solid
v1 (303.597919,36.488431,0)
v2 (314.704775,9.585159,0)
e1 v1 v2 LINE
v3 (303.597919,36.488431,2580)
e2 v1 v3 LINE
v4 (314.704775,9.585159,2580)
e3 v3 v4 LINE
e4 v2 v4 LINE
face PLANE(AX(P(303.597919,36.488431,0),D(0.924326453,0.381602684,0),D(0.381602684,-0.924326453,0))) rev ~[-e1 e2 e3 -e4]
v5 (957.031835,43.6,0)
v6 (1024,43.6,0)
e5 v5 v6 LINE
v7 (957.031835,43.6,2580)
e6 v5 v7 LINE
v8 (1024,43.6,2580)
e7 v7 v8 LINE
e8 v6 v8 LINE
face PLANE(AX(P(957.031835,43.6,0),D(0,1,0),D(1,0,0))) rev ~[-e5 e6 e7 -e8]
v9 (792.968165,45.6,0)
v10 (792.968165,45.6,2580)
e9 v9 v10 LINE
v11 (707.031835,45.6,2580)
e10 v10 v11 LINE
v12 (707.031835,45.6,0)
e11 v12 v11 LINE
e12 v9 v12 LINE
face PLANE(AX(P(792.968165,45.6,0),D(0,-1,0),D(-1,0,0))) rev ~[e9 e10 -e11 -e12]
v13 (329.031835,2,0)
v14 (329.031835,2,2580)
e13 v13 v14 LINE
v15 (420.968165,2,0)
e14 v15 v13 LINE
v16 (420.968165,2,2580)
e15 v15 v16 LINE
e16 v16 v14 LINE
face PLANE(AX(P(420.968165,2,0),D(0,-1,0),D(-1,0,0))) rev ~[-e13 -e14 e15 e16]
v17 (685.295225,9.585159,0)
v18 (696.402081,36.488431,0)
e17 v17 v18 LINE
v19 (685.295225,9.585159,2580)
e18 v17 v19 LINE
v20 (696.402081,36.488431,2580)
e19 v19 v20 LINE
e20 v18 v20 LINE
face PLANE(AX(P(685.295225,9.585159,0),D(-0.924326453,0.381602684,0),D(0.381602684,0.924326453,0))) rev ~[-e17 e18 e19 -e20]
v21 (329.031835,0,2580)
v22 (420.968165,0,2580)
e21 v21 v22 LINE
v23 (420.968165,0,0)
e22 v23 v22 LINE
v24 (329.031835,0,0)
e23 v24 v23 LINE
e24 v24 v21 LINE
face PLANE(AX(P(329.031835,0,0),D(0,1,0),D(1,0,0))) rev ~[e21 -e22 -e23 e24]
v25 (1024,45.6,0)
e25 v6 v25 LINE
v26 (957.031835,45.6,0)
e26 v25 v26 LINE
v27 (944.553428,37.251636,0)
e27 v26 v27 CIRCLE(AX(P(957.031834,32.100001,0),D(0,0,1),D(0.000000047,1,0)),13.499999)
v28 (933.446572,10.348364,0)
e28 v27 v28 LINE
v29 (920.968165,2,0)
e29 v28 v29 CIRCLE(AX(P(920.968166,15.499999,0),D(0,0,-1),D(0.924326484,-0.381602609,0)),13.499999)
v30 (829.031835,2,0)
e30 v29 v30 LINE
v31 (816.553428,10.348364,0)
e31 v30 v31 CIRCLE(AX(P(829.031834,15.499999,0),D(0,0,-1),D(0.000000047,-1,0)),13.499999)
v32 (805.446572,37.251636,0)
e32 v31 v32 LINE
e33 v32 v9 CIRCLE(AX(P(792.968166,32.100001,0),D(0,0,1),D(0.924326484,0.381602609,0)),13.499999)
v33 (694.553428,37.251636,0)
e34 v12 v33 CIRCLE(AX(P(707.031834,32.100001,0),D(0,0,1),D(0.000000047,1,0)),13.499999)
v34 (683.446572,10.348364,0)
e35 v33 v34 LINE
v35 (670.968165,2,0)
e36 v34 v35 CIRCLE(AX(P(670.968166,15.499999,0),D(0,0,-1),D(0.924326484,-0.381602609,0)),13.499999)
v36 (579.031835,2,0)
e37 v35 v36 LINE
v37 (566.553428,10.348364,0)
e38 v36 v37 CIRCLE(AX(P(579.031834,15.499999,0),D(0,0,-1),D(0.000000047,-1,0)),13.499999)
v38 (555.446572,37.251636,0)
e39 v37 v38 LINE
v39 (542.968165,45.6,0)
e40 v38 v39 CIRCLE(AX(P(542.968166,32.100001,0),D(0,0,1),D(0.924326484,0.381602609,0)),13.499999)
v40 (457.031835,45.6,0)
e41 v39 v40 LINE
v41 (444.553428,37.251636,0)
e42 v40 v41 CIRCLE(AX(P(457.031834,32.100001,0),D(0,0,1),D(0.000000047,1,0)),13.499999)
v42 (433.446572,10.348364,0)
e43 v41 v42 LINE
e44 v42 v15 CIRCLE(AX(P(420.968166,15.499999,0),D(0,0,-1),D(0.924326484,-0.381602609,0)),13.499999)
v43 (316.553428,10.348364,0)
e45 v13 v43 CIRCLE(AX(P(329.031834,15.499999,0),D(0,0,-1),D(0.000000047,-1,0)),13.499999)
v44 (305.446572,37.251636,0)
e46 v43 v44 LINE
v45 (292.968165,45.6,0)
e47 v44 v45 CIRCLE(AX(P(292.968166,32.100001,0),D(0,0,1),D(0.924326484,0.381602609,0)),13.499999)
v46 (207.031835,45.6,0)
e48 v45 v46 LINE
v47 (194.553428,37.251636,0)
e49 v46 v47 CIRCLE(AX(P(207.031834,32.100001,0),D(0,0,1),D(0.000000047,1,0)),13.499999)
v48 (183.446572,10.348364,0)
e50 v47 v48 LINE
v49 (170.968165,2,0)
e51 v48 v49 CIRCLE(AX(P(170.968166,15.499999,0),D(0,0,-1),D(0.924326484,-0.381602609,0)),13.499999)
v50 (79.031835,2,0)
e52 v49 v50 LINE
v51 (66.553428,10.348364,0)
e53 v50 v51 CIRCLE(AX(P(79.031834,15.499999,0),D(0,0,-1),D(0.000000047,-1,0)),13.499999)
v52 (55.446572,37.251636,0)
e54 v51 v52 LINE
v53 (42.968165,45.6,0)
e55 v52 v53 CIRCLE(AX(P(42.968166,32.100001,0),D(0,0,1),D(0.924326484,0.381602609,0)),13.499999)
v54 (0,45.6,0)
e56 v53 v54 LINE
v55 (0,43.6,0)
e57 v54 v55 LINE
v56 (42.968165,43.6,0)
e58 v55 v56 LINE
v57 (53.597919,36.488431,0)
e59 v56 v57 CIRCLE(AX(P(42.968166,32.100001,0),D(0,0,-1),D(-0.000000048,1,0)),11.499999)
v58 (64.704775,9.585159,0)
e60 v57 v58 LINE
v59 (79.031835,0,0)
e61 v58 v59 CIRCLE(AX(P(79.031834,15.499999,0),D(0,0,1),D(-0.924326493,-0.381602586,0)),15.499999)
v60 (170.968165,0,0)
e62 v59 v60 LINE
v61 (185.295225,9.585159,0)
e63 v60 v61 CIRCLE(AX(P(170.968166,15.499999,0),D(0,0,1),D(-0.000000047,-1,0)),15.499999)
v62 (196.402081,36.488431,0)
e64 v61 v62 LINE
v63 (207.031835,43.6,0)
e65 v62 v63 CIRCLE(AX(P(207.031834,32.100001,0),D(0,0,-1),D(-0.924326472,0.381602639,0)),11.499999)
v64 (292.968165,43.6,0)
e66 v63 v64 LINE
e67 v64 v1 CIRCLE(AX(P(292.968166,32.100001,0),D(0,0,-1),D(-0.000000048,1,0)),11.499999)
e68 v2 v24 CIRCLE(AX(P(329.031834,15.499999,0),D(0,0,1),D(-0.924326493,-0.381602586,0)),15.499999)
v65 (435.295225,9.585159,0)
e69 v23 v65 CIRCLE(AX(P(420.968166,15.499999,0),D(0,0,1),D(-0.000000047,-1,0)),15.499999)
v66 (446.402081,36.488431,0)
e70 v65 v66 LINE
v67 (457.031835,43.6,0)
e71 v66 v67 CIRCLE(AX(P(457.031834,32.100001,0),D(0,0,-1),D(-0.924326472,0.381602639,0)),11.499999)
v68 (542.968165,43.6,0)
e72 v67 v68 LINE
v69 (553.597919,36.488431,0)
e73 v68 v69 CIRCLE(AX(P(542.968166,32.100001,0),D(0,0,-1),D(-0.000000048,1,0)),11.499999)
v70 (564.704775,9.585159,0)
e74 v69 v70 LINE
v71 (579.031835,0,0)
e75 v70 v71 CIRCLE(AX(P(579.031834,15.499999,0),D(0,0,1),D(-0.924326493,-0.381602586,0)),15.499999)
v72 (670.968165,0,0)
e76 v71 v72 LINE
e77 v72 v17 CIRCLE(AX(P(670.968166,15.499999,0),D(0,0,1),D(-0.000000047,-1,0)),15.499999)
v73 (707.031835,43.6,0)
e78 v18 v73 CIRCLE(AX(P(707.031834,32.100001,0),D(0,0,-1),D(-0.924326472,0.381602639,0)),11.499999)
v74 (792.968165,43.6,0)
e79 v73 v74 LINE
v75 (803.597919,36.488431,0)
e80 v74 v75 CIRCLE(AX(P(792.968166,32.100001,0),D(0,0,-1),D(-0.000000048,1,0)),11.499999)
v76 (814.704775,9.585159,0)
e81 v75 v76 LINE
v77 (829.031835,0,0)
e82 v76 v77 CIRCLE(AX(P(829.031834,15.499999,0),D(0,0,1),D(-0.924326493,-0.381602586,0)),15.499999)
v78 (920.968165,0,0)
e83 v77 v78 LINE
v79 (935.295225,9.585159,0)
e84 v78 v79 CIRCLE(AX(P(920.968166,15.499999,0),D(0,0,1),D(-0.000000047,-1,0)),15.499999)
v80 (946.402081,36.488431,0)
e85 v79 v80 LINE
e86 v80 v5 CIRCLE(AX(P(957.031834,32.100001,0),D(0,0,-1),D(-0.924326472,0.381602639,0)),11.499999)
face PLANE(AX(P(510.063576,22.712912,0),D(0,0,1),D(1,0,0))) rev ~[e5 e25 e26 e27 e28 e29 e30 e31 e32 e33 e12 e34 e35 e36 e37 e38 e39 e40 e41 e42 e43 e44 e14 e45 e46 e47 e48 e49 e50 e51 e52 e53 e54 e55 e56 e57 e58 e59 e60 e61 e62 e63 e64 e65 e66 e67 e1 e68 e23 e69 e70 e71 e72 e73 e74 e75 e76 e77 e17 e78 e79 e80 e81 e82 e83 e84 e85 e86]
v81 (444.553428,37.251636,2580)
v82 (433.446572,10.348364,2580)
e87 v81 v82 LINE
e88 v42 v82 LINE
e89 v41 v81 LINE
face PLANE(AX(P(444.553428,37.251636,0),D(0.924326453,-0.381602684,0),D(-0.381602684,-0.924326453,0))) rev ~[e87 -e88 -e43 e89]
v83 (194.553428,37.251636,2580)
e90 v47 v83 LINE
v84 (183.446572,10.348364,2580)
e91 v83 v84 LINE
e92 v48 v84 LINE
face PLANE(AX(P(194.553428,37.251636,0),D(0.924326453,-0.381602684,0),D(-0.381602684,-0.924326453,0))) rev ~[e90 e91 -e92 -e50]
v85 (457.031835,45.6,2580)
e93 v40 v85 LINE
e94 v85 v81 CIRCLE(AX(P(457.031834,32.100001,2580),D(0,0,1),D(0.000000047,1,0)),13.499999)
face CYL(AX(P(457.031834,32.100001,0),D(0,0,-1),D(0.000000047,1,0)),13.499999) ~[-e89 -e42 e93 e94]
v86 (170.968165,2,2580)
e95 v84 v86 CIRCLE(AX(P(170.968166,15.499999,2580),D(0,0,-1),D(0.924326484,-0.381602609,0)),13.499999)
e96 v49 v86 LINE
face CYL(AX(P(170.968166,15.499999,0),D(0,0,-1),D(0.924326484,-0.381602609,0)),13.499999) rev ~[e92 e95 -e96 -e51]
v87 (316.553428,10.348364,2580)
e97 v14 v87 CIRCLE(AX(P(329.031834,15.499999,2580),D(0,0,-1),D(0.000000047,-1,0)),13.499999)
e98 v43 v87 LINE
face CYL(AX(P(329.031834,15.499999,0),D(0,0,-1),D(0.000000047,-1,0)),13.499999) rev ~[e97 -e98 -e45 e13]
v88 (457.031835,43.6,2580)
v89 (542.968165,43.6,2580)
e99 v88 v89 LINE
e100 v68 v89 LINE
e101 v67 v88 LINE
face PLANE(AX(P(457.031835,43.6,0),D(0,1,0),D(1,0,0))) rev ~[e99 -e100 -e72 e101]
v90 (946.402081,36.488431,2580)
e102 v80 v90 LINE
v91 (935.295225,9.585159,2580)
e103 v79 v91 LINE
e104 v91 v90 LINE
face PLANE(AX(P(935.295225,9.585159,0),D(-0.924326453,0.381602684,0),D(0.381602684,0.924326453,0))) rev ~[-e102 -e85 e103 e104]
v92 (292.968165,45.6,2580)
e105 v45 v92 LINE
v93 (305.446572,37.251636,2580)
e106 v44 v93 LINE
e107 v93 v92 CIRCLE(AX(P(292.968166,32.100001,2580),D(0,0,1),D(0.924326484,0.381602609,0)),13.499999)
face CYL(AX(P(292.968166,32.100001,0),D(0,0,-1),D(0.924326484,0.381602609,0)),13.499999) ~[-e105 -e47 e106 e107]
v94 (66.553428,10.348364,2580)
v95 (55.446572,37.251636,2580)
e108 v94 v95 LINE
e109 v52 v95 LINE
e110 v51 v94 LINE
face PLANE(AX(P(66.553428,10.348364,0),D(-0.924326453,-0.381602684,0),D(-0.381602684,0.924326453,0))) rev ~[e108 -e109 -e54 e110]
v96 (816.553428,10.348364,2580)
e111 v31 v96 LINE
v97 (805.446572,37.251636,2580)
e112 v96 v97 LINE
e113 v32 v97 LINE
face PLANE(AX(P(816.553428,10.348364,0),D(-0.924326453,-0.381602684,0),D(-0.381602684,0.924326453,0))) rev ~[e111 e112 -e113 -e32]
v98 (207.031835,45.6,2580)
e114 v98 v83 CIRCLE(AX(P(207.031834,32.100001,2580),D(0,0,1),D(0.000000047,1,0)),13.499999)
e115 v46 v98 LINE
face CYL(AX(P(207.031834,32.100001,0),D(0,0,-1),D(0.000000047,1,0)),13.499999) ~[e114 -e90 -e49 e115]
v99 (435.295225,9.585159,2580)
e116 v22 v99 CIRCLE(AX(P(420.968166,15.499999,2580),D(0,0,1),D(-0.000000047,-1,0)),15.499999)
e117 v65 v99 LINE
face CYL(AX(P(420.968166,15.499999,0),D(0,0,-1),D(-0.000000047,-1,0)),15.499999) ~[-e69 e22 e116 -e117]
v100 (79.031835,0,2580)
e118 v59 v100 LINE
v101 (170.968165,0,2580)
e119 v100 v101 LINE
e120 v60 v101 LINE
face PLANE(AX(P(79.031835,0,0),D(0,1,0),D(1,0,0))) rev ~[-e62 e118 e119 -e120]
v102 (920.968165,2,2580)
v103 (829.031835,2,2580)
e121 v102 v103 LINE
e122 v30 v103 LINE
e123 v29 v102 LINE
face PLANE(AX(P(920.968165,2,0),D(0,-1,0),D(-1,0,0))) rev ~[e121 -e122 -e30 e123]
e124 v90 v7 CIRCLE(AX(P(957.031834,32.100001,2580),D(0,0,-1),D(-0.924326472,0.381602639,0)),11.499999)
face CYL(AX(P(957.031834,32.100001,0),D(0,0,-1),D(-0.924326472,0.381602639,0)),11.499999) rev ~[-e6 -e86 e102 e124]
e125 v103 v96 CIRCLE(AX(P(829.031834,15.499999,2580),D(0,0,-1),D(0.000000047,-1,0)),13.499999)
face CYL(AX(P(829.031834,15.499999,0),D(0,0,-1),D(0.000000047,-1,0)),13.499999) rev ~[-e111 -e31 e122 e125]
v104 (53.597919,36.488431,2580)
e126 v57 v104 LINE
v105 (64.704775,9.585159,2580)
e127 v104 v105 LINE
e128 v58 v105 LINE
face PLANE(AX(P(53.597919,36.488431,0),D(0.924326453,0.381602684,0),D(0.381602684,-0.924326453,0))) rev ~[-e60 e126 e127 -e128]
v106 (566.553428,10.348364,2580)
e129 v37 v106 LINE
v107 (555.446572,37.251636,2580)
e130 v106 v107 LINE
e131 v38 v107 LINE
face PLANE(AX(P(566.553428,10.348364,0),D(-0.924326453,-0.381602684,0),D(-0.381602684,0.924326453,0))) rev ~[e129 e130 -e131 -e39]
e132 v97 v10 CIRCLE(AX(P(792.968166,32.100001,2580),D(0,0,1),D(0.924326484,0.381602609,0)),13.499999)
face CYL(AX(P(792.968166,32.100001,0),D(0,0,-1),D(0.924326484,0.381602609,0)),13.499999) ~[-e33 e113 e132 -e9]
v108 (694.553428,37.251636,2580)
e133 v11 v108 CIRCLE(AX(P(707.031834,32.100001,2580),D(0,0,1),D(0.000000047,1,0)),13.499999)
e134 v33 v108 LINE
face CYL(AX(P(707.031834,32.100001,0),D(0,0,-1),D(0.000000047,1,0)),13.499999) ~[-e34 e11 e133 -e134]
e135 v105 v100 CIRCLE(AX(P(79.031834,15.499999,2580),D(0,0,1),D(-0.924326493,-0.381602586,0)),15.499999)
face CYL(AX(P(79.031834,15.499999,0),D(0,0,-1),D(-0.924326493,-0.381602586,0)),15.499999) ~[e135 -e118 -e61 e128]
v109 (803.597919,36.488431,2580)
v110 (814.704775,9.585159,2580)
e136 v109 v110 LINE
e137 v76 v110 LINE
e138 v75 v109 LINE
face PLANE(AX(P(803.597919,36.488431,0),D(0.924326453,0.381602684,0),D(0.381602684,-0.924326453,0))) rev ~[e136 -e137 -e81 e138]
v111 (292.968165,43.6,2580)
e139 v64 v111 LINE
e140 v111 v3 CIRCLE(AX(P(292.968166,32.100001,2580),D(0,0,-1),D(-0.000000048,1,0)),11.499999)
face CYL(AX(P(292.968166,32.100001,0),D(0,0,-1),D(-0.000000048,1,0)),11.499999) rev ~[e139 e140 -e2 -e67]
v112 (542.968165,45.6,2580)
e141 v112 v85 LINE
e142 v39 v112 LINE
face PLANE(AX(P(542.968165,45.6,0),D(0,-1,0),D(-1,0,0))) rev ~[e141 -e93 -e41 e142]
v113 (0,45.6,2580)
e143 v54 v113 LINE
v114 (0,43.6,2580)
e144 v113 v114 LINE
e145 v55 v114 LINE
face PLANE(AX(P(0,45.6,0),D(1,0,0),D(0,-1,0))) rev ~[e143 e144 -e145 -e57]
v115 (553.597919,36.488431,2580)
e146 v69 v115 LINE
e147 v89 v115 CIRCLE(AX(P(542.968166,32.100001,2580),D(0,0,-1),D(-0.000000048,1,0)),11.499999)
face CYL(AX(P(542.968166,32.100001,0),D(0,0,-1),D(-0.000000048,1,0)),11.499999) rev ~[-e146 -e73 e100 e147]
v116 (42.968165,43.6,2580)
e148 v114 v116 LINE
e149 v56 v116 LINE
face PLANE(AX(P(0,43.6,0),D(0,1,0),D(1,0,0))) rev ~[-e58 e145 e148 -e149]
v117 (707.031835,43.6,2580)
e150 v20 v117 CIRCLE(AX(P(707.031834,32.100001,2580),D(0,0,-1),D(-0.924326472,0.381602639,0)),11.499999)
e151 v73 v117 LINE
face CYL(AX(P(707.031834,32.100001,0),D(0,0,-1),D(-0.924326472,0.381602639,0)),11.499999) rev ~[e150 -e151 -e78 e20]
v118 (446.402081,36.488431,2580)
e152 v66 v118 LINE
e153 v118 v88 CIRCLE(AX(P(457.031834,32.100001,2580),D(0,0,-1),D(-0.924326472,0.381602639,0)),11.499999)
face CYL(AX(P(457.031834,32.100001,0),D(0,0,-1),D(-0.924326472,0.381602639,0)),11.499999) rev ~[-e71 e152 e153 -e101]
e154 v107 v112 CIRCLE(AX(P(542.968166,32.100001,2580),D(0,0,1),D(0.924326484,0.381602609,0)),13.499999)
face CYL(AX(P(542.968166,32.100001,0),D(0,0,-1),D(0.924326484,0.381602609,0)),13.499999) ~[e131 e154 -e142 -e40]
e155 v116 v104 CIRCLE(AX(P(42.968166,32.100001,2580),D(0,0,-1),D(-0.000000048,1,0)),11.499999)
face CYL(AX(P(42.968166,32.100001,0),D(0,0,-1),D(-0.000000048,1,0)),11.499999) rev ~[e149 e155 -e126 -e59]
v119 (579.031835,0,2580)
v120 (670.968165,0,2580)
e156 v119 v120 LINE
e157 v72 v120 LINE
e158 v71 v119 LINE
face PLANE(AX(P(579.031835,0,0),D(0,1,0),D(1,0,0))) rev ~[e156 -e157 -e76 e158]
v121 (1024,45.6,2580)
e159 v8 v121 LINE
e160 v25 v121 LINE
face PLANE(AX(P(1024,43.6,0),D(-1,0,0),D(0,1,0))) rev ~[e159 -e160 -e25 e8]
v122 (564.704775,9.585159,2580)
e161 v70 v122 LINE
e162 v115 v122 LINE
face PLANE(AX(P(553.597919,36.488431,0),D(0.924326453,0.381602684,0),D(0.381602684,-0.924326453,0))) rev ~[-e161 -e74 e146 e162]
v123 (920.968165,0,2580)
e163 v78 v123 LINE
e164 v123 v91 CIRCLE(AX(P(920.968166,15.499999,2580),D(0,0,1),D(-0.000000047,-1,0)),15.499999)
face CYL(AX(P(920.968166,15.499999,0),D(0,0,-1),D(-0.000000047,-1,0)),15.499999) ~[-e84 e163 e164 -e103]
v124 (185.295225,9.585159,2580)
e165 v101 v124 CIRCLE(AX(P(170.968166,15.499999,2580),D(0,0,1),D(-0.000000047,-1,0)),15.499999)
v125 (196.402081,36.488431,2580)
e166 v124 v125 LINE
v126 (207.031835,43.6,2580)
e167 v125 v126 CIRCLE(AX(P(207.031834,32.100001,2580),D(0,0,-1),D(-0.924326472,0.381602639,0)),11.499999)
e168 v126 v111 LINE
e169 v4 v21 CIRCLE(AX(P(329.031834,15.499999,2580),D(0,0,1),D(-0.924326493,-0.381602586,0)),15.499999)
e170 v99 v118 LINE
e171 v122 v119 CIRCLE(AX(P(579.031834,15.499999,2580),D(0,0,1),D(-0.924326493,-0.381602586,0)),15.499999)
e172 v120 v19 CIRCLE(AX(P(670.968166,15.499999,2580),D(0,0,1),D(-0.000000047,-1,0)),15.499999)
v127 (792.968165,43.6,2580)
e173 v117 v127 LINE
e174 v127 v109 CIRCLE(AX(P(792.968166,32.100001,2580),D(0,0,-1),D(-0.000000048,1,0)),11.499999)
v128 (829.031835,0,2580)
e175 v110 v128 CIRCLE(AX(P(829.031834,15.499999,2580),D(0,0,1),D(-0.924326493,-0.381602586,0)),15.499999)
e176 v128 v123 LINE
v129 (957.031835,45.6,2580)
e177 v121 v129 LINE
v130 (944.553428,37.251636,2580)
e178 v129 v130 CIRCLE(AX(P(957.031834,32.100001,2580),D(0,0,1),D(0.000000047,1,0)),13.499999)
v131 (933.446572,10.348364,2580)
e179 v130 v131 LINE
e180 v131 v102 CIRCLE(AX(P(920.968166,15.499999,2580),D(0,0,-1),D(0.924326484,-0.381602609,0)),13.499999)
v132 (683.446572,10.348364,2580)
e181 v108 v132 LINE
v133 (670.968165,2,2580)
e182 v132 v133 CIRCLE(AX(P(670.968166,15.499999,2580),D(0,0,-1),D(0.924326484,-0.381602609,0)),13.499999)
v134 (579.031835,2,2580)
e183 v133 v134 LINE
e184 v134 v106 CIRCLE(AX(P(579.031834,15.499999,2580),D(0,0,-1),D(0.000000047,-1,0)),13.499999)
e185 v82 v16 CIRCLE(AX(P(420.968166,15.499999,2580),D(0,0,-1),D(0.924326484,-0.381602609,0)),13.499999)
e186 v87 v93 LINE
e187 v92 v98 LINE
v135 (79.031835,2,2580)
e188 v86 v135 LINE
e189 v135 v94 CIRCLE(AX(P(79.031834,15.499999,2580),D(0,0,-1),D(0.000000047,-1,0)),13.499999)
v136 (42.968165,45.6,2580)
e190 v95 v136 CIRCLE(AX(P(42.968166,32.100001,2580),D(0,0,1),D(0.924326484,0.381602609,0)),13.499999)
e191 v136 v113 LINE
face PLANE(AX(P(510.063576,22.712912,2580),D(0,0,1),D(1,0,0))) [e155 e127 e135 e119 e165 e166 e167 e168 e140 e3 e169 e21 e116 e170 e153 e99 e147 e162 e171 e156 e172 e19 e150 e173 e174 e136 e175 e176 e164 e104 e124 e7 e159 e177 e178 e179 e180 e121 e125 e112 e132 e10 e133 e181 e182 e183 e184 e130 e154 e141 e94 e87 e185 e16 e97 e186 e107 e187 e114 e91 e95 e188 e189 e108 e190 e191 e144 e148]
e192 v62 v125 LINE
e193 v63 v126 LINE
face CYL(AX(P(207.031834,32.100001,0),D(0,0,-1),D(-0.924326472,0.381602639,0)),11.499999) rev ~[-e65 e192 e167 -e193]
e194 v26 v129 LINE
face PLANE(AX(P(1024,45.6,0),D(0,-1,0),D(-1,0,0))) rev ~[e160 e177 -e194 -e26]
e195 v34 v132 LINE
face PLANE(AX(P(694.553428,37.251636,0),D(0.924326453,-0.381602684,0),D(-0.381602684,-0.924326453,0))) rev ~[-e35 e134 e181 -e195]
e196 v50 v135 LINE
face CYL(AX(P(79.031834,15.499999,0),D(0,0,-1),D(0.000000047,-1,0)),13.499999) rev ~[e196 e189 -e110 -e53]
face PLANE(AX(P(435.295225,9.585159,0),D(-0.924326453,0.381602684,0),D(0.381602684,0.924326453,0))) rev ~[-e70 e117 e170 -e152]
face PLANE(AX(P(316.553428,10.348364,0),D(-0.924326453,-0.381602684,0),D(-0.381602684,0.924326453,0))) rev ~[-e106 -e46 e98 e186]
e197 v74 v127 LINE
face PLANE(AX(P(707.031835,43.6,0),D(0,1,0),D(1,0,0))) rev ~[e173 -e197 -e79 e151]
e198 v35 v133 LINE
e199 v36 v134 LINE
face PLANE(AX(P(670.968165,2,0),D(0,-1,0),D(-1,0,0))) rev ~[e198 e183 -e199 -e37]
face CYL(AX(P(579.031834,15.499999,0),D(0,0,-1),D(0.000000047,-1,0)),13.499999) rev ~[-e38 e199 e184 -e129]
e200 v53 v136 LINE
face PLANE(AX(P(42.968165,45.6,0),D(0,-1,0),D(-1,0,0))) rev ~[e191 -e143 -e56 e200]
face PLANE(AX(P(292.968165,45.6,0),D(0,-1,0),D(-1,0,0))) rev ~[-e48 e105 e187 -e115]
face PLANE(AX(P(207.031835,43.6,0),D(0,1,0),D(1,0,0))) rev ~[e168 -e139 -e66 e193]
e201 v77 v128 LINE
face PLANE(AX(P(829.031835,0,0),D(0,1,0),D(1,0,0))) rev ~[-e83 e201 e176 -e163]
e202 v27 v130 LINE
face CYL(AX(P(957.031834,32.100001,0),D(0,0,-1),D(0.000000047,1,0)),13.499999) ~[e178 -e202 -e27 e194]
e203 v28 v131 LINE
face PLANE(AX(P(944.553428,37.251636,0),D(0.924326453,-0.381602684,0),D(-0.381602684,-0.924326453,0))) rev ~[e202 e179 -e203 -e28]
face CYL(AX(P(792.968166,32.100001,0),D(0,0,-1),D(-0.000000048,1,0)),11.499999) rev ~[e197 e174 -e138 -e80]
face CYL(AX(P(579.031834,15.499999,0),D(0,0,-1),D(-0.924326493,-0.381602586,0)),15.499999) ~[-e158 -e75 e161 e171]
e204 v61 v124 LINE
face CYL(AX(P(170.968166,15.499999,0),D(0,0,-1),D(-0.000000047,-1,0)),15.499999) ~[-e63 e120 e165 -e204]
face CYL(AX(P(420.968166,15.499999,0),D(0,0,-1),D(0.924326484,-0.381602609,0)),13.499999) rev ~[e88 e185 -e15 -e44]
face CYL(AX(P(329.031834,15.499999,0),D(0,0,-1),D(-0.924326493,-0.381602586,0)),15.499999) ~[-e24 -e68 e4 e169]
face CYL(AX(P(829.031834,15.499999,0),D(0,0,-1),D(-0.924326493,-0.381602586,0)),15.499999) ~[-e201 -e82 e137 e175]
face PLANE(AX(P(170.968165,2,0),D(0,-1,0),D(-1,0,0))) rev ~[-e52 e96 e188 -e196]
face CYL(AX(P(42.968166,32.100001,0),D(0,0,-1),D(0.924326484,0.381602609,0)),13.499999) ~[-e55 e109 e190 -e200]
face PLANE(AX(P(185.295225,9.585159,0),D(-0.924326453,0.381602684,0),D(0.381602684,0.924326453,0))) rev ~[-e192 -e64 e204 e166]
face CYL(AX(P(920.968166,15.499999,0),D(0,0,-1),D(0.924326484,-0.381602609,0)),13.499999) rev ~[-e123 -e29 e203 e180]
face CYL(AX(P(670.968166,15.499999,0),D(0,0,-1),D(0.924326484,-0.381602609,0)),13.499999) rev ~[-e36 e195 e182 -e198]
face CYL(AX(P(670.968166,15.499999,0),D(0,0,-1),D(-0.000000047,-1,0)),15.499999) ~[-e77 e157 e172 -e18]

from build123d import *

# Parameters (mm, degrees)
F1_DEPTH = 2580


with BuildPart() as f1:
    # F0 (on Top) → F1 (new body)
    with BuildSketch(Plane.XY):
        with BuildLine():
            Line((42.968165, 45.6), (0, 45.6))
            Line((0, 45.6), (0, 43.6))
            Line((0, 43.6), (42.968165, 43.6))
            ThreePointArc((42.968165, 43.6), (49.362813, 41.658163), (53.597919, 36.488431))
            Line((53.597919, 36.488431), (64.704775, 9.585159))
            ThreePointArc((64.704775, 9.585159), (70.412961, 2.617259), (79.031835, 0))
            Line((79.031835, 0), (170.968165, 0))
            ThreePointArc((170.968165, 0), (179.587039, 2.617259), (185.295225, 9.585159))
            Line((185.295225, 9.585159), (196.402081, 36.488431))
            ThreePointArc((196.402081, 36.488431), (200.637187, 41.658163), (207.031835, 43.6))
            Line((207.031835, 43.6), (292.968165, 43.6))
            ThreePointArc((292.968165, 43.6), (299.362813, 41.658163), (303.597919, 36.488431))
            Line((303.597919, 36.488431), (314.704775, 9.585159))
            ThreePointArc((314.704775, 9.585159), (320.412961, 2.617259), (329.031835, 0))
            Line((329.031835, 0), (420.968165, 0))
            ThreePointArc((420.968165, 0), (429.587039, 2.617259), (435.295225, 9.585159))
            Line((435.295225, 9.585159), (446.402081, 36.488431))
            ThreePointArc((446.402081, 36.488431), (450.637187, 41.658163), (457.031835, 43.6))
            Line((457.031835, 43.6), (542.968165, 43.6))
            ThreePointArc((542.968165, 43.6), (549.362813, 41.658163), (553.597919, 36.488431))
            Line((553.597919, 36.488431), (564.704775, 9.585159))
            ThreePointArc((564.704775, 9.585159), (570.412961, 2.617259), (579.031835, 0))
            Line((579.031835, 0), (670.968165, 0))
            ThreePointArc((670.968165, 0), (679.587039, 2.617259), (685.295225, 9.585159))
            Line((685.295225, 9.585159), (696.402081, 36.488431))
            ThreePointArc((696.402081, 36.488431), (700.637187, 41.658163), (707.031835, 43.6))
            Line((707.031835, 43.6), (792.968165, 43.6))
            ThreePointArc((792.968165, 43.6), (799.362813, 41.658163), (803.597919, 36.488431))
            Line((803.597919, 36.488431), (814.704775, 9.585159))
            ThreePointArc((814.704775, 9.585159), (820.412961, 2.617259), (829.031835, 0))
            Line((829.031835, 0), (920.968165, 0))
            ThreePointArc((920.968165, 0), (929.587039, 2.617259), (935.295225, 9.585159))
            Line((935.295225, 9.585159), (946.402081, 36.488431))
            ThreePointArc((946.402081, 36.488431), (950.637187, 41.658163), (957.031835, 43.6))
            Line((957.031835, 43.6), (1024, 43.6))
            Line((1024, 43.6), (1024, 45.6))
            Line((1024, 45.6), (957.031835, 45.6))
            ThreePointArc((957.031835, 45.6), (949.525074, 43.320452), (944.553428, 37.251636))
            Line((944.553428, 37.251636), (933.446572, 10.348364))
            ThreePointArc((933.446572, 10.348364), (928.474926, 4.279548), (920.968165, 2))
            Line((920.968165, 2), (829.031835, 2))
            ThreePointArc((829.031835, 2), (821.525074, 4.279548), (816.553428, 10.348364))
            Line((816.553428, 10.348364), (805.446572, 37.251636))
            ThreePointArc((805.446572, 37.251636), (800.474926, 43.320452), (792.968165, 45.6))
            Line((792.968165, 45.6), (707.031835, 45.6))
            ThreePointArc((707.031835, 45.6), (699.525074, 43.320452), (694.553428, 37.251636))
            Line((694.553428, 37.251636), (683.446572, 10.348364))
            ThreePointArc((683.446572, 10.348364), (678.474926, 4.279548), (670.968165, 2))
            Line((670.968165, 2), (579.031835, 2))
            ThreePointArc((579.031835, 2), (571.525074, 4.279548), (566.553428, 10.348364))
            Line((566.553428, 10.348364), (555.446572, 37.251636))
            ThreePointArc((555.446572, 37.251636), (550.474926, 43.320452), (542.968165, 45.6))
            Line((542.968165, 45.6), (457.031835, 45.6))
            ThreePointArc((457.031835, 45.6), (449.525074, 43.320452), (444.553428, 37.251636))
            Line((444.553428, 37.251636), (433.446572, 10.348364))
            ThreePointArc((433.446572, 10.348364), (428.474926, 4.279548), (420.968165, 2))
            Line((420.968165, 2), (329.031835, 2))
            ThreePointArc((329.031835, 2), (321.525074, 4.279548), (316.553428, 10.348364))
            Line((316.553428, 10.348364), (305.446572, 37.251636))
            ThreePointArc((305.446572, 37.251636), (300.474926, 43.320452), (292.968165, 45.6))
            Line((292.968165, 45.6), (207.031835, 45.6))
            ThreePointArc((207.031835, 45.6), (199.525074, 43.320452), (194.553428, 37.251636))
            Line((194.553428, 37.251636), (183.446572, 10.348364))
            ThreePointArc((183.446572, 10.348364), (178.474926, 4.279548), (170.968165, 2))
            Line((170.968165, 2), (79.031835, 2))
            ThreePointArc((79.031835, 2), (71.525074, 4.279548), (66.553428, 10.348364))
            Line((66.553428, 10.348364), (55.446572, 37.251636))
            ThreePointArc((55.446572, 37.251636), (50.474926, 43.320452), (42.968165, 45.6))
        make_face()
    extrude(amount=F1_DEPTH)


solid = f1.part
